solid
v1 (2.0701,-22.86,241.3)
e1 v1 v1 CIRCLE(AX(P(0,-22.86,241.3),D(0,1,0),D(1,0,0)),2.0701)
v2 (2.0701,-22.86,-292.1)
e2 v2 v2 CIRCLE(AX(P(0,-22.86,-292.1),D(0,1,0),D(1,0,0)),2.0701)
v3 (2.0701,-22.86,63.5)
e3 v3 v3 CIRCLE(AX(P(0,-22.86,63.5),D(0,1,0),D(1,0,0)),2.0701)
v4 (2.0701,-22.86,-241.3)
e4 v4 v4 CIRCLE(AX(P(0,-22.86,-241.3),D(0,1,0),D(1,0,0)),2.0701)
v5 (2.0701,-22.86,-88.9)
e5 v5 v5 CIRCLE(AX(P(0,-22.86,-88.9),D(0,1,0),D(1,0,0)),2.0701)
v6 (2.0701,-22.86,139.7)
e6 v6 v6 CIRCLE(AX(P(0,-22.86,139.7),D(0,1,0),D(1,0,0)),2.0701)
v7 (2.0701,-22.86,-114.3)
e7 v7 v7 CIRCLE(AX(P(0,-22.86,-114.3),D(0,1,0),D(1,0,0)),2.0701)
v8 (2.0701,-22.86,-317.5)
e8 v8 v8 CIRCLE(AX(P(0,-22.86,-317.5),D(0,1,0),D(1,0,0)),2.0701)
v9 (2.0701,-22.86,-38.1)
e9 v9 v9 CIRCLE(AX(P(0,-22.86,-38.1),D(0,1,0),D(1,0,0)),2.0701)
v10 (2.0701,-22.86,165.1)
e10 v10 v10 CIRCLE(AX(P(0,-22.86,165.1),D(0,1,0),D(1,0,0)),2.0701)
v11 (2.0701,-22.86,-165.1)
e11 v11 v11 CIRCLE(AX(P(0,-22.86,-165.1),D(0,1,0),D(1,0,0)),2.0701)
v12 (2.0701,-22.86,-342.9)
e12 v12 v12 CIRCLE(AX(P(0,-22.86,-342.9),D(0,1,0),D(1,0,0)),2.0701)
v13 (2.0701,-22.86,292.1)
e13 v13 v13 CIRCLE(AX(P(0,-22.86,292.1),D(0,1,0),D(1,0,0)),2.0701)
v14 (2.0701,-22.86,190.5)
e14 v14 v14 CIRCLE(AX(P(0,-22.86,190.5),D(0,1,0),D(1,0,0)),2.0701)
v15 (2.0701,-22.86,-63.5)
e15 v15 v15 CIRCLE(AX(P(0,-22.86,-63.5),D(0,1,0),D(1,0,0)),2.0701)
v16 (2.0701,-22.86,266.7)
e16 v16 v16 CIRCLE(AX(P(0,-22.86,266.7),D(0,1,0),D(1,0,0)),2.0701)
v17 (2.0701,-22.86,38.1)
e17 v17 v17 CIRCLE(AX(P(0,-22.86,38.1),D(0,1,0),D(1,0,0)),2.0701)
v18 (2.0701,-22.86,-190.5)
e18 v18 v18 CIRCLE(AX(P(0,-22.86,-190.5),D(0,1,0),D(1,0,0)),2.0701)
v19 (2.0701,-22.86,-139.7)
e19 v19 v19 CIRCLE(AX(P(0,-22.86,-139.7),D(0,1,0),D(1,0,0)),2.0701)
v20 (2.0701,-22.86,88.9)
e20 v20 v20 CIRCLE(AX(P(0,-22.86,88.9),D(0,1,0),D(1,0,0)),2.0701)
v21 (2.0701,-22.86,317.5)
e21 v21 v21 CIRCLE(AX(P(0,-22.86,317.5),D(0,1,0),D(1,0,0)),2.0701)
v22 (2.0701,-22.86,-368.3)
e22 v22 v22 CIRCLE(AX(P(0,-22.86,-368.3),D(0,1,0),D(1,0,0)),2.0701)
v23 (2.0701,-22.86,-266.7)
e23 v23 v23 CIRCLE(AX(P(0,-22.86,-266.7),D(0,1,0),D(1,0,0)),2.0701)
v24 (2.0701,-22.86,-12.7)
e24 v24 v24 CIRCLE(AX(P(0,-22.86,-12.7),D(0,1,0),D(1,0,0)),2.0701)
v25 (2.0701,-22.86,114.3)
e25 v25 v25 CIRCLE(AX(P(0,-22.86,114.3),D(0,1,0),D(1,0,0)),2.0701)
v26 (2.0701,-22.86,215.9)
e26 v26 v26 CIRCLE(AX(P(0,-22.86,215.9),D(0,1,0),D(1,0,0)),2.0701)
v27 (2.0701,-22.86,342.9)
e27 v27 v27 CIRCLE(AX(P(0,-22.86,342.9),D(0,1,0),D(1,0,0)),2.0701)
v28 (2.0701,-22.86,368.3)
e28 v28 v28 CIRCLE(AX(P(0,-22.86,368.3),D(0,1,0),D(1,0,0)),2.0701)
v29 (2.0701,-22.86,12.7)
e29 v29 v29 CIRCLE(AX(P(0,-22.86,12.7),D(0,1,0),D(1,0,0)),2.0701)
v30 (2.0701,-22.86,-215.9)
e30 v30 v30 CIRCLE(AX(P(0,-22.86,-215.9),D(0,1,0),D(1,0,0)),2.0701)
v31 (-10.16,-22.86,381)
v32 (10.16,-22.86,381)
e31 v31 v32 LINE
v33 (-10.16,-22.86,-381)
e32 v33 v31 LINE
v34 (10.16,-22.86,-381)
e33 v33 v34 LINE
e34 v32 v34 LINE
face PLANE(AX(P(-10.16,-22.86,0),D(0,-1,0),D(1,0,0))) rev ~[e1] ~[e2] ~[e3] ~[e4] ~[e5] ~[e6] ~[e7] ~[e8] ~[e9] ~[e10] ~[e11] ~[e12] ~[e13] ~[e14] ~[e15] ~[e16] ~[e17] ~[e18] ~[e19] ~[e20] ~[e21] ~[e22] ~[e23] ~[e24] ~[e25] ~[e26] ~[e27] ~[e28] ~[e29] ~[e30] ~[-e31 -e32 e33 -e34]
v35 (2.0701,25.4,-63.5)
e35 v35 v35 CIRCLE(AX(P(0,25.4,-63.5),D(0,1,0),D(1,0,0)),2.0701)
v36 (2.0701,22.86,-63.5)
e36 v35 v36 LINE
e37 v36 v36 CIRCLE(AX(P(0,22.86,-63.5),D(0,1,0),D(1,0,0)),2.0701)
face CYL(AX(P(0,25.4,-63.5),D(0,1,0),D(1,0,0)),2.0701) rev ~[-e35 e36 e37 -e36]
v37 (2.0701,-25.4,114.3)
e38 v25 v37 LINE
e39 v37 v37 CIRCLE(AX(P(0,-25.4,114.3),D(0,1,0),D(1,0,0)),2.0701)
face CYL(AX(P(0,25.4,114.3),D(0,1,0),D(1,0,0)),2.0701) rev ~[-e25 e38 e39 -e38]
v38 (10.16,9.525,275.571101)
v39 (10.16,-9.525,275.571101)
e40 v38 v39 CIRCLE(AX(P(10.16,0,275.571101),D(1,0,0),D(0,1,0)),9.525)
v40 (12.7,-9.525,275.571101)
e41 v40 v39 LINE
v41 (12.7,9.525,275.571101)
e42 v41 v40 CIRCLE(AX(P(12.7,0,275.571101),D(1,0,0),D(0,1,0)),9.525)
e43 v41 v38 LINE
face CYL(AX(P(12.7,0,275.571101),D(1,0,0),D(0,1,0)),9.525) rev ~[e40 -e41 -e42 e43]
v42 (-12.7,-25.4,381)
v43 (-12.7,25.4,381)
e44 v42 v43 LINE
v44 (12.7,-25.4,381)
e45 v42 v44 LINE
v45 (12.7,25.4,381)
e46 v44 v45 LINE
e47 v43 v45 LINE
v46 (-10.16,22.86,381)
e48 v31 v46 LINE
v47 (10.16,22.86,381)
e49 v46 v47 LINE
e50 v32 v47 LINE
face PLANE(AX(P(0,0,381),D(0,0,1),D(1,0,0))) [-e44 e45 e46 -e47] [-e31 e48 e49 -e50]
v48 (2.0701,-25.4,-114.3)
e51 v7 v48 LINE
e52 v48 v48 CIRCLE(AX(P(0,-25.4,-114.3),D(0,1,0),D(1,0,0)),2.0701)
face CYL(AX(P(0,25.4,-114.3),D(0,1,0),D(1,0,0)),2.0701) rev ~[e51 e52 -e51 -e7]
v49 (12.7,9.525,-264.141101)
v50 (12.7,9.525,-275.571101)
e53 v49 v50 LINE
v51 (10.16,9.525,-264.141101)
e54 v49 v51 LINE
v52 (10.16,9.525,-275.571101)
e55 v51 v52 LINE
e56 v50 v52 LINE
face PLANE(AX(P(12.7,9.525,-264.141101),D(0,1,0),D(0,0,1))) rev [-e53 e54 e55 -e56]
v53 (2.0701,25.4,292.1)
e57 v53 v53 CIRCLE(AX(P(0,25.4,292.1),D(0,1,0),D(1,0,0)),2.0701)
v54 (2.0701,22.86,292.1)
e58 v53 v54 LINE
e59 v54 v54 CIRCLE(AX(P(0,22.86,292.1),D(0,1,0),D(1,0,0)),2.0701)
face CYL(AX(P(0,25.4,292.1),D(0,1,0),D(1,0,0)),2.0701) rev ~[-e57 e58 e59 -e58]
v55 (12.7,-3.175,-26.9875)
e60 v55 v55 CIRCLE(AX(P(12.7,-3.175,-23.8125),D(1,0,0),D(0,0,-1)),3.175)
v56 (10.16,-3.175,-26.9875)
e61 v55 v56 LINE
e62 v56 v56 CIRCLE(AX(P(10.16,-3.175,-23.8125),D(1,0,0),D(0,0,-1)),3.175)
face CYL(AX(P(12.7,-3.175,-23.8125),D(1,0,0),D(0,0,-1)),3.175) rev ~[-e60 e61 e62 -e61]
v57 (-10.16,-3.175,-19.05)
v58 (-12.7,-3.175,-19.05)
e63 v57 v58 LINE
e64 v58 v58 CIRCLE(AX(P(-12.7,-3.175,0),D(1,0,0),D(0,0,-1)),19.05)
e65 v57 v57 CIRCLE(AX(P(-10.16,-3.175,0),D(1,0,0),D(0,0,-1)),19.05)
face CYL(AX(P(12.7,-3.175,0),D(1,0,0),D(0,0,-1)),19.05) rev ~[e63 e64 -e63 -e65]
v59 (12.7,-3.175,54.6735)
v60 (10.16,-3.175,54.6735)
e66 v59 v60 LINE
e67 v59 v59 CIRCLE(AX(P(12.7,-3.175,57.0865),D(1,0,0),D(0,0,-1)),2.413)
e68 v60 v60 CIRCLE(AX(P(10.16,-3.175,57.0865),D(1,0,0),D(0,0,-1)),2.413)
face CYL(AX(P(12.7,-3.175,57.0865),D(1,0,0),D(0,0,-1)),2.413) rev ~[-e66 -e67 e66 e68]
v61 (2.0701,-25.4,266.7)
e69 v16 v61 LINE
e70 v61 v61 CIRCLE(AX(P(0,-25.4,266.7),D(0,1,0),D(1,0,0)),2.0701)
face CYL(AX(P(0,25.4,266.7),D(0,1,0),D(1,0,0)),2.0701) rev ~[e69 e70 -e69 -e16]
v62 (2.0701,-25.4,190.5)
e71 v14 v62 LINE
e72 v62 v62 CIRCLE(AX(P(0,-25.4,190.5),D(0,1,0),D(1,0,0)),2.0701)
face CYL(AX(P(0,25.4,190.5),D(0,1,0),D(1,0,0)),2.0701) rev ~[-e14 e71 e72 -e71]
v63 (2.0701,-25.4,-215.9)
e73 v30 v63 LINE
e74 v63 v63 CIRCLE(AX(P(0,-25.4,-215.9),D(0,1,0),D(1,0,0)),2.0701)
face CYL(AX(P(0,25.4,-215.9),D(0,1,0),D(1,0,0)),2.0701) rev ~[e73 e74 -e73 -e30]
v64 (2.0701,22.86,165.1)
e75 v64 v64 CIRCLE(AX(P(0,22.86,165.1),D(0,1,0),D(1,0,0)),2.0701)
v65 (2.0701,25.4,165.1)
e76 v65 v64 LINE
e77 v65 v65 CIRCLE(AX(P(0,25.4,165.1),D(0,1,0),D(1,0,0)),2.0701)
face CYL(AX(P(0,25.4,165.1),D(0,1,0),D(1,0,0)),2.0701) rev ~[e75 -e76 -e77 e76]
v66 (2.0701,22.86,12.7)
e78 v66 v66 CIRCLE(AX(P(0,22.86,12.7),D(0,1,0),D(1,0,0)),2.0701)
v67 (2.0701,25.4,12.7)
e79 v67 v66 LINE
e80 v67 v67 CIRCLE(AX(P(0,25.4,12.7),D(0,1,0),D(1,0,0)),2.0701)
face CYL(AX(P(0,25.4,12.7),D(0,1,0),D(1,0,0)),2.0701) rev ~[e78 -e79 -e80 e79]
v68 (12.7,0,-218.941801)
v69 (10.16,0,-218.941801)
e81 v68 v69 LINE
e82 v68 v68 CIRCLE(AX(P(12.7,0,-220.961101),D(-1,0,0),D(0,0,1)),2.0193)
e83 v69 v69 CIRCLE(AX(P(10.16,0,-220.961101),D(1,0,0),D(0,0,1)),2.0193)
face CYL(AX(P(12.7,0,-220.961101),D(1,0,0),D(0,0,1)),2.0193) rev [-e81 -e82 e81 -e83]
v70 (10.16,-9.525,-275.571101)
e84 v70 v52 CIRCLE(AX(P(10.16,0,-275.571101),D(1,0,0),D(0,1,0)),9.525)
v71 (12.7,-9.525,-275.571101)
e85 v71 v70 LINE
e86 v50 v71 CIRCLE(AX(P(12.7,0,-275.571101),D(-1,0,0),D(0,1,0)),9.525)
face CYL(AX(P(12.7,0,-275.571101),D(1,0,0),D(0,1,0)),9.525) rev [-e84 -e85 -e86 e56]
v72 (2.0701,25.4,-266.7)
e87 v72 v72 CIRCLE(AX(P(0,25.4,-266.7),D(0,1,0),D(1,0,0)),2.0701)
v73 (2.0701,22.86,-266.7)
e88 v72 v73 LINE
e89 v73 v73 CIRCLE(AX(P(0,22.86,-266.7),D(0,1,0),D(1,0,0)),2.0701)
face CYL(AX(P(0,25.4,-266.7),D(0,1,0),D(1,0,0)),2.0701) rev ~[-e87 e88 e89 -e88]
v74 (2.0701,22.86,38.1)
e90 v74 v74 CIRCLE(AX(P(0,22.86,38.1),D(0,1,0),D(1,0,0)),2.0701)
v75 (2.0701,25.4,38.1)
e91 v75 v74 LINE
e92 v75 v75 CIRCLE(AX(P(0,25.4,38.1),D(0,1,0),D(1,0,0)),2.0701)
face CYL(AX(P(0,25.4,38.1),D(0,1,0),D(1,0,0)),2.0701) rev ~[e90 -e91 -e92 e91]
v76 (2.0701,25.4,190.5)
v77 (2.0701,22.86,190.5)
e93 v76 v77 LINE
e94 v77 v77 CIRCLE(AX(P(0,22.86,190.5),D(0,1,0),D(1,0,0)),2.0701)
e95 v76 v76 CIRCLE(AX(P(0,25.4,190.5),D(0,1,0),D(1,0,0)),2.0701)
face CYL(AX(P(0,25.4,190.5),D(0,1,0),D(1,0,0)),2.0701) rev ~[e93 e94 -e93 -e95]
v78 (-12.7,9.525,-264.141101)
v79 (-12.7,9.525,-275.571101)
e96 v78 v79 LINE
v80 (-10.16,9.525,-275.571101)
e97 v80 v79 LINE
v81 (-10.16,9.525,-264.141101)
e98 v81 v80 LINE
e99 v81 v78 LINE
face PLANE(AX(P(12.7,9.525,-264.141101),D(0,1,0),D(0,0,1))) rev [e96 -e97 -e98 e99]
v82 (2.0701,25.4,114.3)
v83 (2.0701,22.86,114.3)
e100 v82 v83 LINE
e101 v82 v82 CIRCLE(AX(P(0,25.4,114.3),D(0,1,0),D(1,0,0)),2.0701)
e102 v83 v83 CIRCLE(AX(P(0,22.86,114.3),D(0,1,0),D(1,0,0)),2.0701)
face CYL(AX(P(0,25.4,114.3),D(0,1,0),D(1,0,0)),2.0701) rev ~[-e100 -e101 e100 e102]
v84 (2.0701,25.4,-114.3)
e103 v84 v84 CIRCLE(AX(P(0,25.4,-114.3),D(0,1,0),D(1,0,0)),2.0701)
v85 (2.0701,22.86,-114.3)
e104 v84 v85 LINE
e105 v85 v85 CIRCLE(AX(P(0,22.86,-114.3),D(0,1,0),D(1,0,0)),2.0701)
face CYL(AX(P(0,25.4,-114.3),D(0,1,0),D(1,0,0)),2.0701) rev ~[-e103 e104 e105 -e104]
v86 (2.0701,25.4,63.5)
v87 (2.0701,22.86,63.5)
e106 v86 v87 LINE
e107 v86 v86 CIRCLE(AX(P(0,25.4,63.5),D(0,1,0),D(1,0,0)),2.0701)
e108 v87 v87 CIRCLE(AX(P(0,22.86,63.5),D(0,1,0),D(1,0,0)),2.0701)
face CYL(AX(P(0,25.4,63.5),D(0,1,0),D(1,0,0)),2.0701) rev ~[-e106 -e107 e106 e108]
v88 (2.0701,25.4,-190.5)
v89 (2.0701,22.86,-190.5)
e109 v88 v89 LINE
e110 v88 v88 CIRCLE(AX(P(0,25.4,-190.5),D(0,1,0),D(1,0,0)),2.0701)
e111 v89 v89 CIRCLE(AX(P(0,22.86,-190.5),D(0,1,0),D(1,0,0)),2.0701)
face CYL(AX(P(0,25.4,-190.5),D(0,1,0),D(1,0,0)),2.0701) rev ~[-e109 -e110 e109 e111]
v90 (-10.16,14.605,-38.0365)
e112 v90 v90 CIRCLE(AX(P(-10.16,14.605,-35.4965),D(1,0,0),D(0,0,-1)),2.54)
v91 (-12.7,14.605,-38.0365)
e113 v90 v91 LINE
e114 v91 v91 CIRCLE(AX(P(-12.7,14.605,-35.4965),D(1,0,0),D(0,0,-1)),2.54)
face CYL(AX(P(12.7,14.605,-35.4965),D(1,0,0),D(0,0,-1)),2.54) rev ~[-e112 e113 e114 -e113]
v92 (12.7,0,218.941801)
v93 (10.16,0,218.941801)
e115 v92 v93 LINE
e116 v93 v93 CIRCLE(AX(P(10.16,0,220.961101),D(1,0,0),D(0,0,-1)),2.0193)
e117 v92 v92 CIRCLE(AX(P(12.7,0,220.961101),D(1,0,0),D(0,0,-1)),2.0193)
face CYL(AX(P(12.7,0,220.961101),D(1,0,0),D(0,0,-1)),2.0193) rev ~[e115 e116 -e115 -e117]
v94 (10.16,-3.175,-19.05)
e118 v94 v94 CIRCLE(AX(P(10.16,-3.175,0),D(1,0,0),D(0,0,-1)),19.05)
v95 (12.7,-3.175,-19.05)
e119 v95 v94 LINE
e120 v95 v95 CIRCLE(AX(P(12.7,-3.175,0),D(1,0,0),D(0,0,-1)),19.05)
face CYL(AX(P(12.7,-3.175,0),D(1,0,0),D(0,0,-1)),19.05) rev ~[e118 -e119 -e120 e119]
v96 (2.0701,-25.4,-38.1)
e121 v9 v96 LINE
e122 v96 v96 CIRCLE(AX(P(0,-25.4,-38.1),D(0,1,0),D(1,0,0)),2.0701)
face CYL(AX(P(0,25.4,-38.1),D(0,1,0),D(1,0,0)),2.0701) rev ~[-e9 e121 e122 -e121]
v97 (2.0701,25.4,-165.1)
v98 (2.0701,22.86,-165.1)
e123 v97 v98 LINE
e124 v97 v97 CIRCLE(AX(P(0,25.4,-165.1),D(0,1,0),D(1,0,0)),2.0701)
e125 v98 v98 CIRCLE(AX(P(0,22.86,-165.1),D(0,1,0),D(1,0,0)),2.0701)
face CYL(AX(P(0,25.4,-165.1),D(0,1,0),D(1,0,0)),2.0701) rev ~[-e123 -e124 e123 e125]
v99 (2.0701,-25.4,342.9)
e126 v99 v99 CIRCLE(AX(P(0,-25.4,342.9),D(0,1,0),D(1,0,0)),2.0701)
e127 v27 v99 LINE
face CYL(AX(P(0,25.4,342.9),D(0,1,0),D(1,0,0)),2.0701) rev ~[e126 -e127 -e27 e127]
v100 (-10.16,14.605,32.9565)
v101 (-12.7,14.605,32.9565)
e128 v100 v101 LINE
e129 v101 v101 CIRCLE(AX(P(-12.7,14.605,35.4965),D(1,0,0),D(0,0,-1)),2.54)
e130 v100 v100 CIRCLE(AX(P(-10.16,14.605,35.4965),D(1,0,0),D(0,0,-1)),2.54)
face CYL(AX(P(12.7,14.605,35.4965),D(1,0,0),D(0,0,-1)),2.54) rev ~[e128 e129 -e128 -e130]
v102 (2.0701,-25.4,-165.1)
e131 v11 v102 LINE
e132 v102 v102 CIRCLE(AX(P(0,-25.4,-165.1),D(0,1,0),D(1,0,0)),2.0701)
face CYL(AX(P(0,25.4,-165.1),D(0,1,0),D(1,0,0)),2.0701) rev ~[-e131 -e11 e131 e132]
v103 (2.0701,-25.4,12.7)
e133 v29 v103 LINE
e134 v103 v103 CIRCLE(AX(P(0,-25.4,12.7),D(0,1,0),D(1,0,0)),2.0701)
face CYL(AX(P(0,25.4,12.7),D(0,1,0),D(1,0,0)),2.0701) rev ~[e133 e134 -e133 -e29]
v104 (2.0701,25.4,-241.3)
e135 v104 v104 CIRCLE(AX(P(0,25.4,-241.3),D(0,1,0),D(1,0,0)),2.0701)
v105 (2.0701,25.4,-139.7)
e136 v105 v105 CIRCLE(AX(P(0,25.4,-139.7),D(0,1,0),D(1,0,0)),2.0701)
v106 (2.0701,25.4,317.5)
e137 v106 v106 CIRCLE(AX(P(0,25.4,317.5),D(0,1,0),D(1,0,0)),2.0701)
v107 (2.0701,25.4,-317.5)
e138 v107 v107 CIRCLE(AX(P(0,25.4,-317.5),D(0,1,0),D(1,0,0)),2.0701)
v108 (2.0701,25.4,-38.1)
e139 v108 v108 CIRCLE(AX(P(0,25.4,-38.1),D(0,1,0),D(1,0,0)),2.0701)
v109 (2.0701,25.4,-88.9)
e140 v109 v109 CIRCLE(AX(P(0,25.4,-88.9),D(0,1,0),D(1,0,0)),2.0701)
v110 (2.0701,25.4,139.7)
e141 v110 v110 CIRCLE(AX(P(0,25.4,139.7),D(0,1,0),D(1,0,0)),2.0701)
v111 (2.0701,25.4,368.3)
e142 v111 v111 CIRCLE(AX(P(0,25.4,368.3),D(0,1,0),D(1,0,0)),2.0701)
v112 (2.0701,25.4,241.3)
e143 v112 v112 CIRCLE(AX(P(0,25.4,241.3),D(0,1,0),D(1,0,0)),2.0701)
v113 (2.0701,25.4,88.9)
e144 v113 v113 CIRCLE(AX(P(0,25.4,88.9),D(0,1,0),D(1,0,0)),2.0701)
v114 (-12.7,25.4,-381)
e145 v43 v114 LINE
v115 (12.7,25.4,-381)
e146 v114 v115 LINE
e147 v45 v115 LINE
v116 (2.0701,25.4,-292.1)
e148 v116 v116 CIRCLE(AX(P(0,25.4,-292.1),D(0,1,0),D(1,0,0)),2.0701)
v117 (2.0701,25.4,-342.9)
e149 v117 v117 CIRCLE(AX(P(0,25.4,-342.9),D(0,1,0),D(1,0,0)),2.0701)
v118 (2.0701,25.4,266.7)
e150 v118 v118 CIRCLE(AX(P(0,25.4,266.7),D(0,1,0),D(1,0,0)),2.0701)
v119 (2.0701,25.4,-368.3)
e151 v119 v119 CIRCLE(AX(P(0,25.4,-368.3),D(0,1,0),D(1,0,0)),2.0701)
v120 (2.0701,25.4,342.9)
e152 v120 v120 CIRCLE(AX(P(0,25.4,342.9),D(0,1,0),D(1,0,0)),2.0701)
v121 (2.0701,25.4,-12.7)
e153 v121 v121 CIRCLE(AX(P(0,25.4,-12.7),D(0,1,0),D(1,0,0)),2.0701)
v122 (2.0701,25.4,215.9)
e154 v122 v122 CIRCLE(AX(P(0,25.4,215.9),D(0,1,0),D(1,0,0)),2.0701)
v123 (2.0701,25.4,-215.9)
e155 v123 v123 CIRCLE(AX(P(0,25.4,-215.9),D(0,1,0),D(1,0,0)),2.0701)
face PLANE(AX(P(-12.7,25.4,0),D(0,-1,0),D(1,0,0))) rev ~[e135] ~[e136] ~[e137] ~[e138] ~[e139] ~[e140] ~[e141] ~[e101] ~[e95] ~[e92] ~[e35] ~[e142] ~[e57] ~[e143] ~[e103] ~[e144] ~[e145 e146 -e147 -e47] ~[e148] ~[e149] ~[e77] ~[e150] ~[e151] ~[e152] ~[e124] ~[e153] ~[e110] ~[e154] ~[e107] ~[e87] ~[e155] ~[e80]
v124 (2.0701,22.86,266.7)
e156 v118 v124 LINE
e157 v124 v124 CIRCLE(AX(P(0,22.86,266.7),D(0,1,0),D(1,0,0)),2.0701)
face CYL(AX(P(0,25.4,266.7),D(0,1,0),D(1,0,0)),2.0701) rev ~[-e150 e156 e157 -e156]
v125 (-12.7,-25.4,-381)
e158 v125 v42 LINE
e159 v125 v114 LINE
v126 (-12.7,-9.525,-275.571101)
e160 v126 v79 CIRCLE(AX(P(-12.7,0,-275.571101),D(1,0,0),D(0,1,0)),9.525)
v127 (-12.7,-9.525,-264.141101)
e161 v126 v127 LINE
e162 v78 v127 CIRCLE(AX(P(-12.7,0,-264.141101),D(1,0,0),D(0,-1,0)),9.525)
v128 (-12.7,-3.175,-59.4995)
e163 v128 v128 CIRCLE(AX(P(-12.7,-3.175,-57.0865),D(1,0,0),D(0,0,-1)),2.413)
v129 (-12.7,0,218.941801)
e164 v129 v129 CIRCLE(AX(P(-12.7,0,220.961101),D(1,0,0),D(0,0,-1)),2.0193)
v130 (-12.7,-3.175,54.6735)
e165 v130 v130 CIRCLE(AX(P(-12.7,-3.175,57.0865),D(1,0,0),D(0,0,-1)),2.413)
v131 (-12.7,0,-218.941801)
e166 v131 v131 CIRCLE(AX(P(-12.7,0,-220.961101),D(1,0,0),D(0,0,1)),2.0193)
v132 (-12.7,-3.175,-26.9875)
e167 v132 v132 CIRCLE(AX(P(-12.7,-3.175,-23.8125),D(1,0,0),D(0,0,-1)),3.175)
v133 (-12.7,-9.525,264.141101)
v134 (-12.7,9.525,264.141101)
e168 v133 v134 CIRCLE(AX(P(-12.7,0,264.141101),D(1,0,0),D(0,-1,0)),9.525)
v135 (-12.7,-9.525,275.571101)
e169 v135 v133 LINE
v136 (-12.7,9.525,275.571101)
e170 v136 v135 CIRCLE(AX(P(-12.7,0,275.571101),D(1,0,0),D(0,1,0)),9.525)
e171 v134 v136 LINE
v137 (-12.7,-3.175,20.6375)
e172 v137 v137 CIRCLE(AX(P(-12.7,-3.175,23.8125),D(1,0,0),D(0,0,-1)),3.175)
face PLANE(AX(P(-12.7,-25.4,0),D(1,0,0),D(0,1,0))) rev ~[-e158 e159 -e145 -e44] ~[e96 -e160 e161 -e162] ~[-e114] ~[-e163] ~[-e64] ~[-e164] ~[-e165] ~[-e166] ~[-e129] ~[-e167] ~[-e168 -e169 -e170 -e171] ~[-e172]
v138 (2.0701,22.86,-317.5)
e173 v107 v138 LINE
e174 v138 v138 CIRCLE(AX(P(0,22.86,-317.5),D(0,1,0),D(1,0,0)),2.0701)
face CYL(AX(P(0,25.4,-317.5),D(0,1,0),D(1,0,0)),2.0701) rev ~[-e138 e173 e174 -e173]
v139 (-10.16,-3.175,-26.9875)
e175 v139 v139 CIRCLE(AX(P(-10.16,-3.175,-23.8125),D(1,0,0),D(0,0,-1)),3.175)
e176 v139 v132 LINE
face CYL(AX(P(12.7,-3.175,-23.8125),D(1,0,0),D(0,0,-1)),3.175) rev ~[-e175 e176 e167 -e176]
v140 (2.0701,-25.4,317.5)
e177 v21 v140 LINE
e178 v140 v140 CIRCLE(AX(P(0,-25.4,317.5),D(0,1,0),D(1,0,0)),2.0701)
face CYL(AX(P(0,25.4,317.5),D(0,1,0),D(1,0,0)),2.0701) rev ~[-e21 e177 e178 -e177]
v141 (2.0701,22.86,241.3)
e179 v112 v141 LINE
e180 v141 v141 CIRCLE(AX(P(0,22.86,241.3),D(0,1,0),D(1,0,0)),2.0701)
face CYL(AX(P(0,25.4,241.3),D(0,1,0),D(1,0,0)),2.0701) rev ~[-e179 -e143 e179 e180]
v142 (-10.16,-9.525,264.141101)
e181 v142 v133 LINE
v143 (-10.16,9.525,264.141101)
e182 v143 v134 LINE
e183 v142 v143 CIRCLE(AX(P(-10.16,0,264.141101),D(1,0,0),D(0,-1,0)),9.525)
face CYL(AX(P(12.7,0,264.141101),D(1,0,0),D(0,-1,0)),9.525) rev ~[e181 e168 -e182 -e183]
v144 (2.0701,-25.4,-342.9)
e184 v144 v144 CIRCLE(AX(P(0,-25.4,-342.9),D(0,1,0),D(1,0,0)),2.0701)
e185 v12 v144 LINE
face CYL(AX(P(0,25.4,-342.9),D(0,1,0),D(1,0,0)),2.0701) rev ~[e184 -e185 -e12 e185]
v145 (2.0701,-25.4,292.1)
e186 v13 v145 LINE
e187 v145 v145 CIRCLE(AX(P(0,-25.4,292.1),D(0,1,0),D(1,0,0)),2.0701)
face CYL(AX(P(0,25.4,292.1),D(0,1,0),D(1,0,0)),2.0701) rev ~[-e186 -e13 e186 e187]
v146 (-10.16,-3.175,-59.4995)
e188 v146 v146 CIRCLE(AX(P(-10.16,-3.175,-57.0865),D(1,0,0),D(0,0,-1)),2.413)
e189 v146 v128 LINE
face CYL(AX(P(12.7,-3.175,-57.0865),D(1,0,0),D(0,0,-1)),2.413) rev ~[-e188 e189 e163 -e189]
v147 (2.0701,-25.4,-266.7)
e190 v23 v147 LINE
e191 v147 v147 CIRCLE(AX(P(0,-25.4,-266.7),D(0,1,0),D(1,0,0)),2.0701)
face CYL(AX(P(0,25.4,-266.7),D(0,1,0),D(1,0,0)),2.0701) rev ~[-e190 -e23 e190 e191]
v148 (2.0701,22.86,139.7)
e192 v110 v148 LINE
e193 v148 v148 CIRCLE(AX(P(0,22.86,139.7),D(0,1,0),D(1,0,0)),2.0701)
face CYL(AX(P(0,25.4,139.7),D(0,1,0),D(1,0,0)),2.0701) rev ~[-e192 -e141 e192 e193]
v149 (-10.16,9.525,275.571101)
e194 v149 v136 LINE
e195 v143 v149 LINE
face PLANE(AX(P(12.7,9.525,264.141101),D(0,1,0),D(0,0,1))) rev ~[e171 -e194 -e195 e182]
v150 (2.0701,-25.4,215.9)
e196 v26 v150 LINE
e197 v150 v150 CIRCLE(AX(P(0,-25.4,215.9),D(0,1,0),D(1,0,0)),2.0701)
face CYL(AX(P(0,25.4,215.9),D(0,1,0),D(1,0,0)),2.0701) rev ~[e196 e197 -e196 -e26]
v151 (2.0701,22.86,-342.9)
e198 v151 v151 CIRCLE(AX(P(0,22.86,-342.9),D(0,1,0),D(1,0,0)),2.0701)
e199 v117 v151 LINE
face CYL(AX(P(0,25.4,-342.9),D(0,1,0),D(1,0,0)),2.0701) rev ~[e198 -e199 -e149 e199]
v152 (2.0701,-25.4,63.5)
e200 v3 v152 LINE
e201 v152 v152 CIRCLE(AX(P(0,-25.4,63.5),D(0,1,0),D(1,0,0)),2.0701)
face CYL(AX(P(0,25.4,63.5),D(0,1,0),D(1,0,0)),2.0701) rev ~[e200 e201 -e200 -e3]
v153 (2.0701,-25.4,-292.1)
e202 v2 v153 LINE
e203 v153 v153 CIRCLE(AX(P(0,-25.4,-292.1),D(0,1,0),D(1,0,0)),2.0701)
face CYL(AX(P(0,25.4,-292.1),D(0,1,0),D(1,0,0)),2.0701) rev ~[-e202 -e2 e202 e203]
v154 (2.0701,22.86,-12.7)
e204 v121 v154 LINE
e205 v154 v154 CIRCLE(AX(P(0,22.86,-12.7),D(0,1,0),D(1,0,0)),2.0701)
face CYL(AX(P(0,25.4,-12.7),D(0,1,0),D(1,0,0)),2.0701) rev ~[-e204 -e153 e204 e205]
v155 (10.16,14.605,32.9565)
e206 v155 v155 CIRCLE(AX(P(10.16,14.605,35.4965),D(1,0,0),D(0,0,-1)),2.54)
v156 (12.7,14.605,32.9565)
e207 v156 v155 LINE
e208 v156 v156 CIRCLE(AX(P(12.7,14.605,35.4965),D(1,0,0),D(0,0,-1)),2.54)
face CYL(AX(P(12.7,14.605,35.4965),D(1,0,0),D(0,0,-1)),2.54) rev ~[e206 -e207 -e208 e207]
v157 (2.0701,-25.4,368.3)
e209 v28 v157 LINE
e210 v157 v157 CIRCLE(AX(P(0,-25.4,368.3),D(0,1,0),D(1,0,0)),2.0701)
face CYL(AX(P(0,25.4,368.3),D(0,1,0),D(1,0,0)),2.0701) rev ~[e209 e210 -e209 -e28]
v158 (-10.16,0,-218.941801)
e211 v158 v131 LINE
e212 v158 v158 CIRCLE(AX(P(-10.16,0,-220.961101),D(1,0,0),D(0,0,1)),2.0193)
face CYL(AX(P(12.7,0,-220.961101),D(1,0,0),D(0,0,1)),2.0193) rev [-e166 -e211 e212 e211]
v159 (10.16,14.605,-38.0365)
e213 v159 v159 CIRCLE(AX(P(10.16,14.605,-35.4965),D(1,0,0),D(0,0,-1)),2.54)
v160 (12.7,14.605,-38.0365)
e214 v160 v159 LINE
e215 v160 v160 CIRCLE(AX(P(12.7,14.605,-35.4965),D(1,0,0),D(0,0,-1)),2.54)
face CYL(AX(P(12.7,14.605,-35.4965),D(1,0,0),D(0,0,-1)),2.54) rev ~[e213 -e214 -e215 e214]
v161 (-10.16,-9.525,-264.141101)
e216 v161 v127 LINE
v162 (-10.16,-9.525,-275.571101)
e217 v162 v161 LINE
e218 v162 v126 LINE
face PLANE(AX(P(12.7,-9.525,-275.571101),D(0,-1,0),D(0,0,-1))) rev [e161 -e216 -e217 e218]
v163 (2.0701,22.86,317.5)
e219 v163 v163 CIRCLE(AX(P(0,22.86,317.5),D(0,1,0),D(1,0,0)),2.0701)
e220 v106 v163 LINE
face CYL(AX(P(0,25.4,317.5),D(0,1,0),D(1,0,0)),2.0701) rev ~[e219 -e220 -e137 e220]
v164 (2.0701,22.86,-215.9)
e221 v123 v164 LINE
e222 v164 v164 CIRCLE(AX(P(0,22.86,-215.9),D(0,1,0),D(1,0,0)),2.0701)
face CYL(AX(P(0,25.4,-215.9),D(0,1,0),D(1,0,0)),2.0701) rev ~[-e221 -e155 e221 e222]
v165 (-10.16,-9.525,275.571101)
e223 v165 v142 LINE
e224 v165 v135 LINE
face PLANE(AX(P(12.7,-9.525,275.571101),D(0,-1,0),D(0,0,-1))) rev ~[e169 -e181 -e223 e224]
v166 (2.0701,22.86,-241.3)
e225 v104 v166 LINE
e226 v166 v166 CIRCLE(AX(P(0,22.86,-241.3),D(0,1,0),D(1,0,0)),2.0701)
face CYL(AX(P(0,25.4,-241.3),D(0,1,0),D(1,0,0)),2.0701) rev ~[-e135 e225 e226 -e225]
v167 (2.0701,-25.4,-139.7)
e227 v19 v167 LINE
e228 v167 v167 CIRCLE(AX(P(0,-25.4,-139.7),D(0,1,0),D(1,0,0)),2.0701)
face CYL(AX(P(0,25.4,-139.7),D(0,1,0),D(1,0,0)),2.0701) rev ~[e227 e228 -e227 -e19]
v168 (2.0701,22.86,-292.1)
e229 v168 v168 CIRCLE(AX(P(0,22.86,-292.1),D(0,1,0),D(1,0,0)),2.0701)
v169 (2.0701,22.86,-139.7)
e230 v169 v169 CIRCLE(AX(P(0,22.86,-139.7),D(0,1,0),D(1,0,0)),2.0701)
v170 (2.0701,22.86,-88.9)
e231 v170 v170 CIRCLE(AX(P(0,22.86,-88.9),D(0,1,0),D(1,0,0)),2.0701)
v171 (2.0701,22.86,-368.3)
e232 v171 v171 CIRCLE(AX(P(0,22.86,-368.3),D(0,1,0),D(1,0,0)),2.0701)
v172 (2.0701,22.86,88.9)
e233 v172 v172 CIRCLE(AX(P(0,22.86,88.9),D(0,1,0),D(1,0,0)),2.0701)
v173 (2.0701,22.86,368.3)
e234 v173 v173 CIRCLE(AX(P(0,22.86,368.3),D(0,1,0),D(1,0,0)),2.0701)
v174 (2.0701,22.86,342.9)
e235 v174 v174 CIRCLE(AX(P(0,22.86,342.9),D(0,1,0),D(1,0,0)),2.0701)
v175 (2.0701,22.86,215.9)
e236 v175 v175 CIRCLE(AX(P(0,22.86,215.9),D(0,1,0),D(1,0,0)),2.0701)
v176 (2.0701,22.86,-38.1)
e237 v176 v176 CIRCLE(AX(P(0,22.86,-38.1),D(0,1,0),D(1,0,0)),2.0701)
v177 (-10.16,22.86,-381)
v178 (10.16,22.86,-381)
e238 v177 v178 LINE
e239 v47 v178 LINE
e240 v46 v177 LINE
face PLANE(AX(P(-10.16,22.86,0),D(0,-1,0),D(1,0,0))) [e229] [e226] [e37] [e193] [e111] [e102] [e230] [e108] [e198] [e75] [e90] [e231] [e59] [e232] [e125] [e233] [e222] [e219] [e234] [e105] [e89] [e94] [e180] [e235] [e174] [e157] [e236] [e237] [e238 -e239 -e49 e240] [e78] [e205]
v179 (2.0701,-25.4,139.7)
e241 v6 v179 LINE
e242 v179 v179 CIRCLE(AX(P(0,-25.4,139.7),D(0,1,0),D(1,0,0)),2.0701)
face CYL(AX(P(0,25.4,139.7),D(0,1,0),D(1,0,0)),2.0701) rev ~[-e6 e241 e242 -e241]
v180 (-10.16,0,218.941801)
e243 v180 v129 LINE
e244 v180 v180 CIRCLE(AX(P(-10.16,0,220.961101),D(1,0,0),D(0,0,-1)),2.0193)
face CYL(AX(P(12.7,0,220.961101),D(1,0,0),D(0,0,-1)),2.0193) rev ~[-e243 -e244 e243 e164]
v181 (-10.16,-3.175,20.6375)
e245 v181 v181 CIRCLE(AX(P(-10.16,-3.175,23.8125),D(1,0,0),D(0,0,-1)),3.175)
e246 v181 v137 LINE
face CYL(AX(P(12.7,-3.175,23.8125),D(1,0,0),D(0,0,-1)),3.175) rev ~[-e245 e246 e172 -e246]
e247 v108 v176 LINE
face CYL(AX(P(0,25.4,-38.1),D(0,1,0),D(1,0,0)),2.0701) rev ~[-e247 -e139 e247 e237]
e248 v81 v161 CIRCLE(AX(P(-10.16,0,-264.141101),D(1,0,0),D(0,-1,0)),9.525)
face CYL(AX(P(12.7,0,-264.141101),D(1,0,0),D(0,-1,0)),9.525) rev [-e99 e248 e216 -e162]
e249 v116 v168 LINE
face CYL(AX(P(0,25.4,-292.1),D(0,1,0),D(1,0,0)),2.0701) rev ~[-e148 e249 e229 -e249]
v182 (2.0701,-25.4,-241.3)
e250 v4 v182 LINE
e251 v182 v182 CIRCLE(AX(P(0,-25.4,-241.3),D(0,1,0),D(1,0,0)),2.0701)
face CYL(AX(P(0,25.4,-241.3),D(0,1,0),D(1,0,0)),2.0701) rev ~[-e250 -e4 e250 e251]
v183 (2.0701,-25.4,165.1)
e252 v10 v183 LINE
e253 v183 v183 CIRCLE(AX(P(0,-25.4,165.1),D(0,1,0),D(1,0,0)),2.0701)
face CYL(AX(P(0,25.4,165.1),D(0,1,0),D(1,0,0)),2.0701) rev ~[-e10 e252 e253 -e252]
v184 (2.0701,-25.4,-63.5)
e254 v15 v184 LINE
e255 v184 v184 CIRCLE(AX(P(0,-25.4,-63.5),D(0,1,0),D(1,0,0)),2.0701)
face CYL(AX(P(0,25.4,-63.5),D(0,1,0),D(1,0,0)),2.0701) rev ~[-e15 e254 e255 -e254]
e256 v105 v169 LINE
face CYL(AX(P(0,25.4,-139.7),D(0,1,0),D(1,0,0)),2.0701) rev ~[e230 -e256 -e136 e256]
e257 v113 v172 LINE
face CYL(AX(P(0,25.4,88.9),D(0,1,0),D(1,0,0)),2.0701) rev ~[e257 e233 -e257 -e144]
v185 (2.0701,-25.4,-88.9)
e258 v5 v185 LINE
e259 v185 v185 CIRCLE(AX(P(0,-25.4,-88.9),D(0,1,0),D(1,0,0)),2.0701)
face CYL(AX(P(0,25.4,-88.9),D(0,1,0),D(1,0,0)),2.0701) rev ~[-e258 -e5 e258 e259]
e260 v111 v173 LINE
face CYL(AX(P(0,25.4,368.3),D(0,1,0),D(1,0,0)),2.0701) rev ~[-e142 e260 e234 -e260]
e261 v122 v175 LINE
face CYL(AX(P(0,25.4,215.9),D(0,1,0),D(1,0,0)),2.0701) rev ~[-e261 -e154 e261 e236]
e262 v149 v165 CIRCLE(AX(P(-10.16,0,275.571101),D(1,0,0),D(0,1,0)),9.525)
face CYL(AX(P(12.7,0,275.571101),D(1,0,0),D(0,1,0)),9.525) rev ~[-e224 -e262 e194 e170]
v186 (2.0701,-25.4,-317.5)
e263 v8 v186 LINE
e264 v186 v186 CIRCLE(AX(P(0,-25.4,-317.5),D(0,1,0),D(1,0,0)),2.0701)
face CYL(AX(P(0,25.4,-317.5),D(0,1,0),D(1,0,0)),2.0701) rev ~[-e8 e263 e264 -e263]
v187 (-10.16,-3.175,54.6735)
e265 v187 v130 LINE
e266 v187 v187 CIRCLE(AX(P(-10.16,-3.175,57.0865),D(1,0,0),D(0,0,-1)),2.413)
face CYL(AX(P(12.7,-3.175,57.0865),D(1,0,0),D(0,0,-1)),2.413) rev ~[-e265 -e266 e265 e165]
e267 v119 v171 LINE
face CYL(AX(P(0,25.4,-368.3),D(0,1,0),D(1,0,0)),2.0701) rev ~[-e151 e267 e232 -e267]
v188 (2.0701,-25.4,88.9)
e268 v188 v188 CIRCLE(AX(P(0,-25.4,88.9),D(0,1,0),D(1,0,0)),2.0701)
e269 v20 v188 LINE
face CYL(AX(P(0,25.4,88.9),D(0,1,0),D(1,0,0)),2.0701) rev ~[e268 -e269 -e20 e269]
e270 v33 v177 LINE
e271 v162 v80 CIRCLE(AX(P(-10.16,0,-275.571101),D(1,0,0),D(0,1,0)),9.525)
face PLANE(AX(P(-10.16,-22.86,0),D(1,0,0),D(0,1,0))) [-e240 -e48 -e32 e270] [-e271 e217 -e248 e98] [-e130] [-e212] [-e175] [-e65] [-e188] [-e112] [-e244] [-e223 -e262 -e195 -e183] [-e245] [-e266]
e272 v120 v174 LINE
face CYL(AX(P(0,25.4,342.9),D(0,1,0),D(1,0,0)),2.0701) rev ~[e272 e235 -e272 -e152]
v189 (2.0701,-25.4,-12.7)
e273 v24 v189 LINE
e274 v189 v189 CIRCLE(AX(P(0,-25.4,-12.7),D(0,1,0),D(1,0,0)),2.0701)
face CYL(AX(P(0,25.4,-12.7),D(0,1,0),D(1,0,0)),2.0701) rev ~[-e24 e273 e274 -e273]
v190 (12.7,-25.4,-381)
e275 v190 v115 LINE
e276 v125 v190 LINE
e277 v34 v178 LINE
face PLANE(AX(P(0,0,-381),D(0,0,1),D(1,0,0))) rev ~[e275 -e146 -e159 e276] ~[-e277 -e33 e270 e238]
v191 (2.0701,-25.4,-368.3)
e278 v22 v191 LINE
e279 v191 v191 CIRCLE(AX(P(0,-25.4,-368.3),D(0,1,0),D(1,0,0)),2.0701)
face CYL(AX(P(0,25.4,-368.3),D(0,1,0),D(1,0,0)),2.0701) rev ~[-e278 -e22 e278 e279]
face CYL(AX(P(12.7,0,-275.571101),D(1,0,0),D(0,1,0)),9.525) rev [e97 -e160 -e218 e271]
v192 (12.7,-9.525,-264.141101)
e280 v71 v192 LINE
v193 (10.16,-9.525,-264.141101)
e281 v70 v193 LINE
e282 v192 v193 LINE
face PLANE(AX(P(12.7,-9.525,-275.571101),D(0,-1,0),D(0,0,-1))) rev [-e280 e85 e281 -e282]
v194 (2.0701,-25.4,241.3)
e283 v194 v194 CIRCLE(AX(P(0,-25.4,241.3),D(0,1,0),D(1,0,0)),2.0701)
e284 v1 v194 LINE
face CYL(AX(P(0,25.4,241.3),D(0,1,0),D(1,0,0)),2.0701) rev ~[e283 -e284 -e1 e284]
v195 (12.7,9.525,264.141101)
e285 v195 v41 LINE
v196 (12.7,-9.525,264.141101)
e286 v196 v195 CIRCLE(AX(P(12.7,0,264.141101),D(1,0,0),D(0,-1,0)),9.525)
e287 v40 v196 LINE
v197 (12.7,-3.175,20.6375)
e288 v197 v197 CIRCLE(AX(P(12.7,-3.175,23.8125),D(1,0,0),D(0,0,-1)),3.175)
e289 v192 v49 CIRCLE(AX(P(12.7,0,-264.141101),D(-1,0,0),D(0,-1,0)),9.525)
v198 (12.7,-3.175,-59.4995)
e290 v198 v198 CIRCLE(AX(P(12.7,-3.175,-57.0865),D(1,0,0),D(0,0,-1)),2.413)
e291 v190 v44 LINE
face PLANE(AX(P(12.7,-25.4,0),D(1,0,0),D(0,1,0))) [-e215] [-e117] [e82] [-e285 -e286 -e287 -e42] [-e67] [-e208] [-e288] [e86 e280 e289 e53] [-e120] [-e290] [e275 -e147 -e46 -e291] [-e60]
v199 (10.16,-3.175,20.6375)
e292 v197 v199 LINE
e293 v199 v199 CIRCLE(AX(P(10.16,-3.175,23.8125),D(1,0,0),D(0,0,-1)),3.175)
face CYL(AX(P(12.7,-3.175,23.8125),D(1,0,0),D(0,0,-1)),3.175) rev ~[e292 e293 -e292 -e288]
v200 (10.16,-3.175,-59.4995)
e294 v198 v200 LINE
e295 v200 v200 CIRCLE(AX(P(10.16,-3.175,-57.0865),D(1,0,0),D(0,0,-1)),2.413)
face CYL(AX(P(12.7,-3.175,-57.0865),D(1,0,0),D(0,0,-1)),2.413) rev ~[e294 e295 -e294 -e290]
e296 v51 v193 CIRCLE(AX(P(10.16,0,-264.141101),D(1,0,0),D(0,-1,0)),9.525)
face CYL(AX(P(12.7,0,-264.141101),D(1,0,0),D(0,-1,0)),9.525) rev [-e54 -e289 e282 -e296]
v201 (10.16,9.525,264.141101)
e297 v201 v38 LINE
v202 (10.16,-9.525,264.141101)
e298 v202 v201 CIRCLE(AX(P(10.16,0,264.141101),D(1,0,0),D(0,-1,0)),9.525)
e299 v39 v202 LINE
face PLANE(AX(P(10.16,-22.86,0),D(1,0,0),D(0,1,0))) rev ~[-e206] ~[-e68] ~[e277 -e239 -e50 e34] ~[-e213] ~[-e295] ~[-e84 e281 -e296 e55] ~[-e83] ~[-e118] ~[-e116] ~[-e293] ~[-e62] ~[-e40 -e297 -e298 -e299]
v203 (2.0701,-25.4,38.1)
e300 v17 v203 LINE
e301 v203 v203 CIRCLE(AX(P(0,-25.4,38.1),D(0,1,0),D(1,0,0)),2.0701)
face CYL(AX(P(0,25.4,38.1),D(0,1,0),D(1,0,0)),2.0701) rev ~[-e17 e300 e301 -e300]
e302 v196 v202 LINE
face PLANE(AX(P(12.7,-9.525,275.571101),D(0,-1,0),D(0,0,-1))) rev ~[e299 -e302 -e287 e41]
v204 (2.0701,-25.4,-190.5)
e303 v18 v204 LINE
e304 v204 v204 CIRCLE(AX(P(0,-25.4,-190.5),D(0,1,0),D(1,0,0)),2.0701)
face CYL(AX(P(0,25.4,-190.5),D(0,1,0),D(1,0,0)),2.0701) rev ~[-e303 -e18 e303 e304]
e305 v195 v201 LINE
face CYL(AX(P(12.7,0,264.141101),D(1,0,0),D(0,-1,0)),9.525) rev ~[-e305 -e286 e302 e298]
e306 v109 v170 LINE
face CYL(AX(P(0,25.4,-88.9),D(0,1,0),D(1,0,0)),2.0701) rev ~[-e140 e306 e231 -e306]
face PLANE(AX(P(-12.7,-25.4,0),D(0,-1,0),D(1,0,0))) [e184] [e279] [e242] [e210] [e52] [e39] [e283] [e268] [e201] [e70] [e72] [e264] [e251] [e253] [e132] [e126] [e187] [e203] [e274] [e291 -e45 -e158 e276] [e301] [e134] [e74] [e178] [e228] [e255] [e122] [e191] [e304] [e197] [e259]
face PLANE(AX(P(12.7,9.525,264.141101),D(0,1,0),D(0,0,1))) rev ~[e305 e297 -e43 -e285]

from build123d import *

# Parameters (mm, degrees)
SKETCH1_W           = 25.4
SKETCH1_H           = 50.8
SKETCH1_W_2         = 20.32
SKETCH1_H_2         = 45.72
EXTRUDE_THIN1_DEPTH = 381
SKETCH2_R           = 2.0701
CUT_EXTRUDE1_DEPTH  = 51.8
LPATTERN1_COUNT     = 31
LPATTERN1_PITCH     = 25.4
SKETCH3_R           = 19.05
SKETCH3_R_2         = 3.175
SKETCH3_R_3         = 2.413
SKETCH3_R_4         = 2.54
CUT_EXTRUDE2_DEPTH  = 26.4
SKETCH3_3_R         = 2.0193
CUT_EXTRUDE3_DEPTH  = 26.4


with BuildPart() as part:
    # Sketch1 → Extrude-Thin1 (new body, symmetric)
    with BuildSketch(Plane.XY):
        Rectangle(SKETCH1_W, SKETCH1_H)
        Rectangle(SKETCH1_W_2, SKETCH1_H_2, mode=Mode.SUBTRACT)
    extrude(amount=EXTRUDE_THIN1_DEPTH, both=True)

    # Sketch2 → Cut-Extrude1 (cut, through all)
    with BuildSketch(Plane(origin=(0, 25.4, 0), x_dir=(1, 0, 0), z_dir=(0, 1, 0))):
        with Locations((0, -368.3)):
            Circle(SKETCH2_R)
    cut_extrude1 = extrude(amount=-CUT_EXTRUDE1_DEPTH, mode=Mode.SUBTRACT)

    # LPattern1: Cut-Extrude1 ×31
    with Locations(*[(0, 0, -i * LPATTERN1_PITCH) for i in range(1, LPATTERN1_COUNT)]):
        add(cut_extrude1, mode=Mode.SUBTRACT)

    # Sketch3 → Cut-Extrude2 (cut, through all)
    with BuildSketch(Plane(origin=(12.7, 0, 0), x_dir=(0, 0, -1), z_dir=(1, 0, 0))):
        with Locations((0, -3.175)):
            Circle(SKETCH3_R)
        with Locations((-23.8125, -3.175)):
            Circle(SKETCH3_R_2)
        with Locations((-57.0865, -3.175)):
            Circle(SKETCH3_R_3)
        with Locations((-35.4965, 14.605)):
            Circle(SKETCH3_R_4)
        with Locations((23.8125, -3.175)):
            Circle(SKETCH3_R_2)
        with Locations((35.4965, 14.605)):
            Circle(SKETCH3_R_4)
        with Locations((57.0865, -3.175)):
            Circle(SKETCH3_R_3)
    extrude(amount=-CUT_EXTRUDE2_DEPTH, mode=Mode.SUBTRACT)

    # Sketch3<3> → Cut-Extrude3 (cut, through all)
    with BuildSketch(Plane(origin=(12.7, 0, 0), x_dir=(0, 0, -1), z_dir=(1, 0, 0))):
        with BuildLine():
            Line((-275.571100521, -9.525), (-264.141100521, -9.525))
            ThreePointArc((-264.141100521, -9.525), (-254.616100521, 0), (-264.141100521, 9.525))
            Line((-264.141100521, 9.525), (-275.571100521, 9.525))
            ThreePointArc((-275.571100521, 9.525), (-285.096100521, 0), (-275.571100521, -9.525))
        make_face()
        with Locations((-220.961100521, 0)):
            Circle(SKETCH3_3_R)
    cut_extrude3 = extrude(amount=-CUT_EXTRUDE3_DEPTH, mode=Mode.SUBTRACT)

    # Mirror1: Cut-Extrude3 across plane
    add(cut_extrude3.mirror(Plane.XY), mode=Mode.SUBTRACT)


solid = part.part
